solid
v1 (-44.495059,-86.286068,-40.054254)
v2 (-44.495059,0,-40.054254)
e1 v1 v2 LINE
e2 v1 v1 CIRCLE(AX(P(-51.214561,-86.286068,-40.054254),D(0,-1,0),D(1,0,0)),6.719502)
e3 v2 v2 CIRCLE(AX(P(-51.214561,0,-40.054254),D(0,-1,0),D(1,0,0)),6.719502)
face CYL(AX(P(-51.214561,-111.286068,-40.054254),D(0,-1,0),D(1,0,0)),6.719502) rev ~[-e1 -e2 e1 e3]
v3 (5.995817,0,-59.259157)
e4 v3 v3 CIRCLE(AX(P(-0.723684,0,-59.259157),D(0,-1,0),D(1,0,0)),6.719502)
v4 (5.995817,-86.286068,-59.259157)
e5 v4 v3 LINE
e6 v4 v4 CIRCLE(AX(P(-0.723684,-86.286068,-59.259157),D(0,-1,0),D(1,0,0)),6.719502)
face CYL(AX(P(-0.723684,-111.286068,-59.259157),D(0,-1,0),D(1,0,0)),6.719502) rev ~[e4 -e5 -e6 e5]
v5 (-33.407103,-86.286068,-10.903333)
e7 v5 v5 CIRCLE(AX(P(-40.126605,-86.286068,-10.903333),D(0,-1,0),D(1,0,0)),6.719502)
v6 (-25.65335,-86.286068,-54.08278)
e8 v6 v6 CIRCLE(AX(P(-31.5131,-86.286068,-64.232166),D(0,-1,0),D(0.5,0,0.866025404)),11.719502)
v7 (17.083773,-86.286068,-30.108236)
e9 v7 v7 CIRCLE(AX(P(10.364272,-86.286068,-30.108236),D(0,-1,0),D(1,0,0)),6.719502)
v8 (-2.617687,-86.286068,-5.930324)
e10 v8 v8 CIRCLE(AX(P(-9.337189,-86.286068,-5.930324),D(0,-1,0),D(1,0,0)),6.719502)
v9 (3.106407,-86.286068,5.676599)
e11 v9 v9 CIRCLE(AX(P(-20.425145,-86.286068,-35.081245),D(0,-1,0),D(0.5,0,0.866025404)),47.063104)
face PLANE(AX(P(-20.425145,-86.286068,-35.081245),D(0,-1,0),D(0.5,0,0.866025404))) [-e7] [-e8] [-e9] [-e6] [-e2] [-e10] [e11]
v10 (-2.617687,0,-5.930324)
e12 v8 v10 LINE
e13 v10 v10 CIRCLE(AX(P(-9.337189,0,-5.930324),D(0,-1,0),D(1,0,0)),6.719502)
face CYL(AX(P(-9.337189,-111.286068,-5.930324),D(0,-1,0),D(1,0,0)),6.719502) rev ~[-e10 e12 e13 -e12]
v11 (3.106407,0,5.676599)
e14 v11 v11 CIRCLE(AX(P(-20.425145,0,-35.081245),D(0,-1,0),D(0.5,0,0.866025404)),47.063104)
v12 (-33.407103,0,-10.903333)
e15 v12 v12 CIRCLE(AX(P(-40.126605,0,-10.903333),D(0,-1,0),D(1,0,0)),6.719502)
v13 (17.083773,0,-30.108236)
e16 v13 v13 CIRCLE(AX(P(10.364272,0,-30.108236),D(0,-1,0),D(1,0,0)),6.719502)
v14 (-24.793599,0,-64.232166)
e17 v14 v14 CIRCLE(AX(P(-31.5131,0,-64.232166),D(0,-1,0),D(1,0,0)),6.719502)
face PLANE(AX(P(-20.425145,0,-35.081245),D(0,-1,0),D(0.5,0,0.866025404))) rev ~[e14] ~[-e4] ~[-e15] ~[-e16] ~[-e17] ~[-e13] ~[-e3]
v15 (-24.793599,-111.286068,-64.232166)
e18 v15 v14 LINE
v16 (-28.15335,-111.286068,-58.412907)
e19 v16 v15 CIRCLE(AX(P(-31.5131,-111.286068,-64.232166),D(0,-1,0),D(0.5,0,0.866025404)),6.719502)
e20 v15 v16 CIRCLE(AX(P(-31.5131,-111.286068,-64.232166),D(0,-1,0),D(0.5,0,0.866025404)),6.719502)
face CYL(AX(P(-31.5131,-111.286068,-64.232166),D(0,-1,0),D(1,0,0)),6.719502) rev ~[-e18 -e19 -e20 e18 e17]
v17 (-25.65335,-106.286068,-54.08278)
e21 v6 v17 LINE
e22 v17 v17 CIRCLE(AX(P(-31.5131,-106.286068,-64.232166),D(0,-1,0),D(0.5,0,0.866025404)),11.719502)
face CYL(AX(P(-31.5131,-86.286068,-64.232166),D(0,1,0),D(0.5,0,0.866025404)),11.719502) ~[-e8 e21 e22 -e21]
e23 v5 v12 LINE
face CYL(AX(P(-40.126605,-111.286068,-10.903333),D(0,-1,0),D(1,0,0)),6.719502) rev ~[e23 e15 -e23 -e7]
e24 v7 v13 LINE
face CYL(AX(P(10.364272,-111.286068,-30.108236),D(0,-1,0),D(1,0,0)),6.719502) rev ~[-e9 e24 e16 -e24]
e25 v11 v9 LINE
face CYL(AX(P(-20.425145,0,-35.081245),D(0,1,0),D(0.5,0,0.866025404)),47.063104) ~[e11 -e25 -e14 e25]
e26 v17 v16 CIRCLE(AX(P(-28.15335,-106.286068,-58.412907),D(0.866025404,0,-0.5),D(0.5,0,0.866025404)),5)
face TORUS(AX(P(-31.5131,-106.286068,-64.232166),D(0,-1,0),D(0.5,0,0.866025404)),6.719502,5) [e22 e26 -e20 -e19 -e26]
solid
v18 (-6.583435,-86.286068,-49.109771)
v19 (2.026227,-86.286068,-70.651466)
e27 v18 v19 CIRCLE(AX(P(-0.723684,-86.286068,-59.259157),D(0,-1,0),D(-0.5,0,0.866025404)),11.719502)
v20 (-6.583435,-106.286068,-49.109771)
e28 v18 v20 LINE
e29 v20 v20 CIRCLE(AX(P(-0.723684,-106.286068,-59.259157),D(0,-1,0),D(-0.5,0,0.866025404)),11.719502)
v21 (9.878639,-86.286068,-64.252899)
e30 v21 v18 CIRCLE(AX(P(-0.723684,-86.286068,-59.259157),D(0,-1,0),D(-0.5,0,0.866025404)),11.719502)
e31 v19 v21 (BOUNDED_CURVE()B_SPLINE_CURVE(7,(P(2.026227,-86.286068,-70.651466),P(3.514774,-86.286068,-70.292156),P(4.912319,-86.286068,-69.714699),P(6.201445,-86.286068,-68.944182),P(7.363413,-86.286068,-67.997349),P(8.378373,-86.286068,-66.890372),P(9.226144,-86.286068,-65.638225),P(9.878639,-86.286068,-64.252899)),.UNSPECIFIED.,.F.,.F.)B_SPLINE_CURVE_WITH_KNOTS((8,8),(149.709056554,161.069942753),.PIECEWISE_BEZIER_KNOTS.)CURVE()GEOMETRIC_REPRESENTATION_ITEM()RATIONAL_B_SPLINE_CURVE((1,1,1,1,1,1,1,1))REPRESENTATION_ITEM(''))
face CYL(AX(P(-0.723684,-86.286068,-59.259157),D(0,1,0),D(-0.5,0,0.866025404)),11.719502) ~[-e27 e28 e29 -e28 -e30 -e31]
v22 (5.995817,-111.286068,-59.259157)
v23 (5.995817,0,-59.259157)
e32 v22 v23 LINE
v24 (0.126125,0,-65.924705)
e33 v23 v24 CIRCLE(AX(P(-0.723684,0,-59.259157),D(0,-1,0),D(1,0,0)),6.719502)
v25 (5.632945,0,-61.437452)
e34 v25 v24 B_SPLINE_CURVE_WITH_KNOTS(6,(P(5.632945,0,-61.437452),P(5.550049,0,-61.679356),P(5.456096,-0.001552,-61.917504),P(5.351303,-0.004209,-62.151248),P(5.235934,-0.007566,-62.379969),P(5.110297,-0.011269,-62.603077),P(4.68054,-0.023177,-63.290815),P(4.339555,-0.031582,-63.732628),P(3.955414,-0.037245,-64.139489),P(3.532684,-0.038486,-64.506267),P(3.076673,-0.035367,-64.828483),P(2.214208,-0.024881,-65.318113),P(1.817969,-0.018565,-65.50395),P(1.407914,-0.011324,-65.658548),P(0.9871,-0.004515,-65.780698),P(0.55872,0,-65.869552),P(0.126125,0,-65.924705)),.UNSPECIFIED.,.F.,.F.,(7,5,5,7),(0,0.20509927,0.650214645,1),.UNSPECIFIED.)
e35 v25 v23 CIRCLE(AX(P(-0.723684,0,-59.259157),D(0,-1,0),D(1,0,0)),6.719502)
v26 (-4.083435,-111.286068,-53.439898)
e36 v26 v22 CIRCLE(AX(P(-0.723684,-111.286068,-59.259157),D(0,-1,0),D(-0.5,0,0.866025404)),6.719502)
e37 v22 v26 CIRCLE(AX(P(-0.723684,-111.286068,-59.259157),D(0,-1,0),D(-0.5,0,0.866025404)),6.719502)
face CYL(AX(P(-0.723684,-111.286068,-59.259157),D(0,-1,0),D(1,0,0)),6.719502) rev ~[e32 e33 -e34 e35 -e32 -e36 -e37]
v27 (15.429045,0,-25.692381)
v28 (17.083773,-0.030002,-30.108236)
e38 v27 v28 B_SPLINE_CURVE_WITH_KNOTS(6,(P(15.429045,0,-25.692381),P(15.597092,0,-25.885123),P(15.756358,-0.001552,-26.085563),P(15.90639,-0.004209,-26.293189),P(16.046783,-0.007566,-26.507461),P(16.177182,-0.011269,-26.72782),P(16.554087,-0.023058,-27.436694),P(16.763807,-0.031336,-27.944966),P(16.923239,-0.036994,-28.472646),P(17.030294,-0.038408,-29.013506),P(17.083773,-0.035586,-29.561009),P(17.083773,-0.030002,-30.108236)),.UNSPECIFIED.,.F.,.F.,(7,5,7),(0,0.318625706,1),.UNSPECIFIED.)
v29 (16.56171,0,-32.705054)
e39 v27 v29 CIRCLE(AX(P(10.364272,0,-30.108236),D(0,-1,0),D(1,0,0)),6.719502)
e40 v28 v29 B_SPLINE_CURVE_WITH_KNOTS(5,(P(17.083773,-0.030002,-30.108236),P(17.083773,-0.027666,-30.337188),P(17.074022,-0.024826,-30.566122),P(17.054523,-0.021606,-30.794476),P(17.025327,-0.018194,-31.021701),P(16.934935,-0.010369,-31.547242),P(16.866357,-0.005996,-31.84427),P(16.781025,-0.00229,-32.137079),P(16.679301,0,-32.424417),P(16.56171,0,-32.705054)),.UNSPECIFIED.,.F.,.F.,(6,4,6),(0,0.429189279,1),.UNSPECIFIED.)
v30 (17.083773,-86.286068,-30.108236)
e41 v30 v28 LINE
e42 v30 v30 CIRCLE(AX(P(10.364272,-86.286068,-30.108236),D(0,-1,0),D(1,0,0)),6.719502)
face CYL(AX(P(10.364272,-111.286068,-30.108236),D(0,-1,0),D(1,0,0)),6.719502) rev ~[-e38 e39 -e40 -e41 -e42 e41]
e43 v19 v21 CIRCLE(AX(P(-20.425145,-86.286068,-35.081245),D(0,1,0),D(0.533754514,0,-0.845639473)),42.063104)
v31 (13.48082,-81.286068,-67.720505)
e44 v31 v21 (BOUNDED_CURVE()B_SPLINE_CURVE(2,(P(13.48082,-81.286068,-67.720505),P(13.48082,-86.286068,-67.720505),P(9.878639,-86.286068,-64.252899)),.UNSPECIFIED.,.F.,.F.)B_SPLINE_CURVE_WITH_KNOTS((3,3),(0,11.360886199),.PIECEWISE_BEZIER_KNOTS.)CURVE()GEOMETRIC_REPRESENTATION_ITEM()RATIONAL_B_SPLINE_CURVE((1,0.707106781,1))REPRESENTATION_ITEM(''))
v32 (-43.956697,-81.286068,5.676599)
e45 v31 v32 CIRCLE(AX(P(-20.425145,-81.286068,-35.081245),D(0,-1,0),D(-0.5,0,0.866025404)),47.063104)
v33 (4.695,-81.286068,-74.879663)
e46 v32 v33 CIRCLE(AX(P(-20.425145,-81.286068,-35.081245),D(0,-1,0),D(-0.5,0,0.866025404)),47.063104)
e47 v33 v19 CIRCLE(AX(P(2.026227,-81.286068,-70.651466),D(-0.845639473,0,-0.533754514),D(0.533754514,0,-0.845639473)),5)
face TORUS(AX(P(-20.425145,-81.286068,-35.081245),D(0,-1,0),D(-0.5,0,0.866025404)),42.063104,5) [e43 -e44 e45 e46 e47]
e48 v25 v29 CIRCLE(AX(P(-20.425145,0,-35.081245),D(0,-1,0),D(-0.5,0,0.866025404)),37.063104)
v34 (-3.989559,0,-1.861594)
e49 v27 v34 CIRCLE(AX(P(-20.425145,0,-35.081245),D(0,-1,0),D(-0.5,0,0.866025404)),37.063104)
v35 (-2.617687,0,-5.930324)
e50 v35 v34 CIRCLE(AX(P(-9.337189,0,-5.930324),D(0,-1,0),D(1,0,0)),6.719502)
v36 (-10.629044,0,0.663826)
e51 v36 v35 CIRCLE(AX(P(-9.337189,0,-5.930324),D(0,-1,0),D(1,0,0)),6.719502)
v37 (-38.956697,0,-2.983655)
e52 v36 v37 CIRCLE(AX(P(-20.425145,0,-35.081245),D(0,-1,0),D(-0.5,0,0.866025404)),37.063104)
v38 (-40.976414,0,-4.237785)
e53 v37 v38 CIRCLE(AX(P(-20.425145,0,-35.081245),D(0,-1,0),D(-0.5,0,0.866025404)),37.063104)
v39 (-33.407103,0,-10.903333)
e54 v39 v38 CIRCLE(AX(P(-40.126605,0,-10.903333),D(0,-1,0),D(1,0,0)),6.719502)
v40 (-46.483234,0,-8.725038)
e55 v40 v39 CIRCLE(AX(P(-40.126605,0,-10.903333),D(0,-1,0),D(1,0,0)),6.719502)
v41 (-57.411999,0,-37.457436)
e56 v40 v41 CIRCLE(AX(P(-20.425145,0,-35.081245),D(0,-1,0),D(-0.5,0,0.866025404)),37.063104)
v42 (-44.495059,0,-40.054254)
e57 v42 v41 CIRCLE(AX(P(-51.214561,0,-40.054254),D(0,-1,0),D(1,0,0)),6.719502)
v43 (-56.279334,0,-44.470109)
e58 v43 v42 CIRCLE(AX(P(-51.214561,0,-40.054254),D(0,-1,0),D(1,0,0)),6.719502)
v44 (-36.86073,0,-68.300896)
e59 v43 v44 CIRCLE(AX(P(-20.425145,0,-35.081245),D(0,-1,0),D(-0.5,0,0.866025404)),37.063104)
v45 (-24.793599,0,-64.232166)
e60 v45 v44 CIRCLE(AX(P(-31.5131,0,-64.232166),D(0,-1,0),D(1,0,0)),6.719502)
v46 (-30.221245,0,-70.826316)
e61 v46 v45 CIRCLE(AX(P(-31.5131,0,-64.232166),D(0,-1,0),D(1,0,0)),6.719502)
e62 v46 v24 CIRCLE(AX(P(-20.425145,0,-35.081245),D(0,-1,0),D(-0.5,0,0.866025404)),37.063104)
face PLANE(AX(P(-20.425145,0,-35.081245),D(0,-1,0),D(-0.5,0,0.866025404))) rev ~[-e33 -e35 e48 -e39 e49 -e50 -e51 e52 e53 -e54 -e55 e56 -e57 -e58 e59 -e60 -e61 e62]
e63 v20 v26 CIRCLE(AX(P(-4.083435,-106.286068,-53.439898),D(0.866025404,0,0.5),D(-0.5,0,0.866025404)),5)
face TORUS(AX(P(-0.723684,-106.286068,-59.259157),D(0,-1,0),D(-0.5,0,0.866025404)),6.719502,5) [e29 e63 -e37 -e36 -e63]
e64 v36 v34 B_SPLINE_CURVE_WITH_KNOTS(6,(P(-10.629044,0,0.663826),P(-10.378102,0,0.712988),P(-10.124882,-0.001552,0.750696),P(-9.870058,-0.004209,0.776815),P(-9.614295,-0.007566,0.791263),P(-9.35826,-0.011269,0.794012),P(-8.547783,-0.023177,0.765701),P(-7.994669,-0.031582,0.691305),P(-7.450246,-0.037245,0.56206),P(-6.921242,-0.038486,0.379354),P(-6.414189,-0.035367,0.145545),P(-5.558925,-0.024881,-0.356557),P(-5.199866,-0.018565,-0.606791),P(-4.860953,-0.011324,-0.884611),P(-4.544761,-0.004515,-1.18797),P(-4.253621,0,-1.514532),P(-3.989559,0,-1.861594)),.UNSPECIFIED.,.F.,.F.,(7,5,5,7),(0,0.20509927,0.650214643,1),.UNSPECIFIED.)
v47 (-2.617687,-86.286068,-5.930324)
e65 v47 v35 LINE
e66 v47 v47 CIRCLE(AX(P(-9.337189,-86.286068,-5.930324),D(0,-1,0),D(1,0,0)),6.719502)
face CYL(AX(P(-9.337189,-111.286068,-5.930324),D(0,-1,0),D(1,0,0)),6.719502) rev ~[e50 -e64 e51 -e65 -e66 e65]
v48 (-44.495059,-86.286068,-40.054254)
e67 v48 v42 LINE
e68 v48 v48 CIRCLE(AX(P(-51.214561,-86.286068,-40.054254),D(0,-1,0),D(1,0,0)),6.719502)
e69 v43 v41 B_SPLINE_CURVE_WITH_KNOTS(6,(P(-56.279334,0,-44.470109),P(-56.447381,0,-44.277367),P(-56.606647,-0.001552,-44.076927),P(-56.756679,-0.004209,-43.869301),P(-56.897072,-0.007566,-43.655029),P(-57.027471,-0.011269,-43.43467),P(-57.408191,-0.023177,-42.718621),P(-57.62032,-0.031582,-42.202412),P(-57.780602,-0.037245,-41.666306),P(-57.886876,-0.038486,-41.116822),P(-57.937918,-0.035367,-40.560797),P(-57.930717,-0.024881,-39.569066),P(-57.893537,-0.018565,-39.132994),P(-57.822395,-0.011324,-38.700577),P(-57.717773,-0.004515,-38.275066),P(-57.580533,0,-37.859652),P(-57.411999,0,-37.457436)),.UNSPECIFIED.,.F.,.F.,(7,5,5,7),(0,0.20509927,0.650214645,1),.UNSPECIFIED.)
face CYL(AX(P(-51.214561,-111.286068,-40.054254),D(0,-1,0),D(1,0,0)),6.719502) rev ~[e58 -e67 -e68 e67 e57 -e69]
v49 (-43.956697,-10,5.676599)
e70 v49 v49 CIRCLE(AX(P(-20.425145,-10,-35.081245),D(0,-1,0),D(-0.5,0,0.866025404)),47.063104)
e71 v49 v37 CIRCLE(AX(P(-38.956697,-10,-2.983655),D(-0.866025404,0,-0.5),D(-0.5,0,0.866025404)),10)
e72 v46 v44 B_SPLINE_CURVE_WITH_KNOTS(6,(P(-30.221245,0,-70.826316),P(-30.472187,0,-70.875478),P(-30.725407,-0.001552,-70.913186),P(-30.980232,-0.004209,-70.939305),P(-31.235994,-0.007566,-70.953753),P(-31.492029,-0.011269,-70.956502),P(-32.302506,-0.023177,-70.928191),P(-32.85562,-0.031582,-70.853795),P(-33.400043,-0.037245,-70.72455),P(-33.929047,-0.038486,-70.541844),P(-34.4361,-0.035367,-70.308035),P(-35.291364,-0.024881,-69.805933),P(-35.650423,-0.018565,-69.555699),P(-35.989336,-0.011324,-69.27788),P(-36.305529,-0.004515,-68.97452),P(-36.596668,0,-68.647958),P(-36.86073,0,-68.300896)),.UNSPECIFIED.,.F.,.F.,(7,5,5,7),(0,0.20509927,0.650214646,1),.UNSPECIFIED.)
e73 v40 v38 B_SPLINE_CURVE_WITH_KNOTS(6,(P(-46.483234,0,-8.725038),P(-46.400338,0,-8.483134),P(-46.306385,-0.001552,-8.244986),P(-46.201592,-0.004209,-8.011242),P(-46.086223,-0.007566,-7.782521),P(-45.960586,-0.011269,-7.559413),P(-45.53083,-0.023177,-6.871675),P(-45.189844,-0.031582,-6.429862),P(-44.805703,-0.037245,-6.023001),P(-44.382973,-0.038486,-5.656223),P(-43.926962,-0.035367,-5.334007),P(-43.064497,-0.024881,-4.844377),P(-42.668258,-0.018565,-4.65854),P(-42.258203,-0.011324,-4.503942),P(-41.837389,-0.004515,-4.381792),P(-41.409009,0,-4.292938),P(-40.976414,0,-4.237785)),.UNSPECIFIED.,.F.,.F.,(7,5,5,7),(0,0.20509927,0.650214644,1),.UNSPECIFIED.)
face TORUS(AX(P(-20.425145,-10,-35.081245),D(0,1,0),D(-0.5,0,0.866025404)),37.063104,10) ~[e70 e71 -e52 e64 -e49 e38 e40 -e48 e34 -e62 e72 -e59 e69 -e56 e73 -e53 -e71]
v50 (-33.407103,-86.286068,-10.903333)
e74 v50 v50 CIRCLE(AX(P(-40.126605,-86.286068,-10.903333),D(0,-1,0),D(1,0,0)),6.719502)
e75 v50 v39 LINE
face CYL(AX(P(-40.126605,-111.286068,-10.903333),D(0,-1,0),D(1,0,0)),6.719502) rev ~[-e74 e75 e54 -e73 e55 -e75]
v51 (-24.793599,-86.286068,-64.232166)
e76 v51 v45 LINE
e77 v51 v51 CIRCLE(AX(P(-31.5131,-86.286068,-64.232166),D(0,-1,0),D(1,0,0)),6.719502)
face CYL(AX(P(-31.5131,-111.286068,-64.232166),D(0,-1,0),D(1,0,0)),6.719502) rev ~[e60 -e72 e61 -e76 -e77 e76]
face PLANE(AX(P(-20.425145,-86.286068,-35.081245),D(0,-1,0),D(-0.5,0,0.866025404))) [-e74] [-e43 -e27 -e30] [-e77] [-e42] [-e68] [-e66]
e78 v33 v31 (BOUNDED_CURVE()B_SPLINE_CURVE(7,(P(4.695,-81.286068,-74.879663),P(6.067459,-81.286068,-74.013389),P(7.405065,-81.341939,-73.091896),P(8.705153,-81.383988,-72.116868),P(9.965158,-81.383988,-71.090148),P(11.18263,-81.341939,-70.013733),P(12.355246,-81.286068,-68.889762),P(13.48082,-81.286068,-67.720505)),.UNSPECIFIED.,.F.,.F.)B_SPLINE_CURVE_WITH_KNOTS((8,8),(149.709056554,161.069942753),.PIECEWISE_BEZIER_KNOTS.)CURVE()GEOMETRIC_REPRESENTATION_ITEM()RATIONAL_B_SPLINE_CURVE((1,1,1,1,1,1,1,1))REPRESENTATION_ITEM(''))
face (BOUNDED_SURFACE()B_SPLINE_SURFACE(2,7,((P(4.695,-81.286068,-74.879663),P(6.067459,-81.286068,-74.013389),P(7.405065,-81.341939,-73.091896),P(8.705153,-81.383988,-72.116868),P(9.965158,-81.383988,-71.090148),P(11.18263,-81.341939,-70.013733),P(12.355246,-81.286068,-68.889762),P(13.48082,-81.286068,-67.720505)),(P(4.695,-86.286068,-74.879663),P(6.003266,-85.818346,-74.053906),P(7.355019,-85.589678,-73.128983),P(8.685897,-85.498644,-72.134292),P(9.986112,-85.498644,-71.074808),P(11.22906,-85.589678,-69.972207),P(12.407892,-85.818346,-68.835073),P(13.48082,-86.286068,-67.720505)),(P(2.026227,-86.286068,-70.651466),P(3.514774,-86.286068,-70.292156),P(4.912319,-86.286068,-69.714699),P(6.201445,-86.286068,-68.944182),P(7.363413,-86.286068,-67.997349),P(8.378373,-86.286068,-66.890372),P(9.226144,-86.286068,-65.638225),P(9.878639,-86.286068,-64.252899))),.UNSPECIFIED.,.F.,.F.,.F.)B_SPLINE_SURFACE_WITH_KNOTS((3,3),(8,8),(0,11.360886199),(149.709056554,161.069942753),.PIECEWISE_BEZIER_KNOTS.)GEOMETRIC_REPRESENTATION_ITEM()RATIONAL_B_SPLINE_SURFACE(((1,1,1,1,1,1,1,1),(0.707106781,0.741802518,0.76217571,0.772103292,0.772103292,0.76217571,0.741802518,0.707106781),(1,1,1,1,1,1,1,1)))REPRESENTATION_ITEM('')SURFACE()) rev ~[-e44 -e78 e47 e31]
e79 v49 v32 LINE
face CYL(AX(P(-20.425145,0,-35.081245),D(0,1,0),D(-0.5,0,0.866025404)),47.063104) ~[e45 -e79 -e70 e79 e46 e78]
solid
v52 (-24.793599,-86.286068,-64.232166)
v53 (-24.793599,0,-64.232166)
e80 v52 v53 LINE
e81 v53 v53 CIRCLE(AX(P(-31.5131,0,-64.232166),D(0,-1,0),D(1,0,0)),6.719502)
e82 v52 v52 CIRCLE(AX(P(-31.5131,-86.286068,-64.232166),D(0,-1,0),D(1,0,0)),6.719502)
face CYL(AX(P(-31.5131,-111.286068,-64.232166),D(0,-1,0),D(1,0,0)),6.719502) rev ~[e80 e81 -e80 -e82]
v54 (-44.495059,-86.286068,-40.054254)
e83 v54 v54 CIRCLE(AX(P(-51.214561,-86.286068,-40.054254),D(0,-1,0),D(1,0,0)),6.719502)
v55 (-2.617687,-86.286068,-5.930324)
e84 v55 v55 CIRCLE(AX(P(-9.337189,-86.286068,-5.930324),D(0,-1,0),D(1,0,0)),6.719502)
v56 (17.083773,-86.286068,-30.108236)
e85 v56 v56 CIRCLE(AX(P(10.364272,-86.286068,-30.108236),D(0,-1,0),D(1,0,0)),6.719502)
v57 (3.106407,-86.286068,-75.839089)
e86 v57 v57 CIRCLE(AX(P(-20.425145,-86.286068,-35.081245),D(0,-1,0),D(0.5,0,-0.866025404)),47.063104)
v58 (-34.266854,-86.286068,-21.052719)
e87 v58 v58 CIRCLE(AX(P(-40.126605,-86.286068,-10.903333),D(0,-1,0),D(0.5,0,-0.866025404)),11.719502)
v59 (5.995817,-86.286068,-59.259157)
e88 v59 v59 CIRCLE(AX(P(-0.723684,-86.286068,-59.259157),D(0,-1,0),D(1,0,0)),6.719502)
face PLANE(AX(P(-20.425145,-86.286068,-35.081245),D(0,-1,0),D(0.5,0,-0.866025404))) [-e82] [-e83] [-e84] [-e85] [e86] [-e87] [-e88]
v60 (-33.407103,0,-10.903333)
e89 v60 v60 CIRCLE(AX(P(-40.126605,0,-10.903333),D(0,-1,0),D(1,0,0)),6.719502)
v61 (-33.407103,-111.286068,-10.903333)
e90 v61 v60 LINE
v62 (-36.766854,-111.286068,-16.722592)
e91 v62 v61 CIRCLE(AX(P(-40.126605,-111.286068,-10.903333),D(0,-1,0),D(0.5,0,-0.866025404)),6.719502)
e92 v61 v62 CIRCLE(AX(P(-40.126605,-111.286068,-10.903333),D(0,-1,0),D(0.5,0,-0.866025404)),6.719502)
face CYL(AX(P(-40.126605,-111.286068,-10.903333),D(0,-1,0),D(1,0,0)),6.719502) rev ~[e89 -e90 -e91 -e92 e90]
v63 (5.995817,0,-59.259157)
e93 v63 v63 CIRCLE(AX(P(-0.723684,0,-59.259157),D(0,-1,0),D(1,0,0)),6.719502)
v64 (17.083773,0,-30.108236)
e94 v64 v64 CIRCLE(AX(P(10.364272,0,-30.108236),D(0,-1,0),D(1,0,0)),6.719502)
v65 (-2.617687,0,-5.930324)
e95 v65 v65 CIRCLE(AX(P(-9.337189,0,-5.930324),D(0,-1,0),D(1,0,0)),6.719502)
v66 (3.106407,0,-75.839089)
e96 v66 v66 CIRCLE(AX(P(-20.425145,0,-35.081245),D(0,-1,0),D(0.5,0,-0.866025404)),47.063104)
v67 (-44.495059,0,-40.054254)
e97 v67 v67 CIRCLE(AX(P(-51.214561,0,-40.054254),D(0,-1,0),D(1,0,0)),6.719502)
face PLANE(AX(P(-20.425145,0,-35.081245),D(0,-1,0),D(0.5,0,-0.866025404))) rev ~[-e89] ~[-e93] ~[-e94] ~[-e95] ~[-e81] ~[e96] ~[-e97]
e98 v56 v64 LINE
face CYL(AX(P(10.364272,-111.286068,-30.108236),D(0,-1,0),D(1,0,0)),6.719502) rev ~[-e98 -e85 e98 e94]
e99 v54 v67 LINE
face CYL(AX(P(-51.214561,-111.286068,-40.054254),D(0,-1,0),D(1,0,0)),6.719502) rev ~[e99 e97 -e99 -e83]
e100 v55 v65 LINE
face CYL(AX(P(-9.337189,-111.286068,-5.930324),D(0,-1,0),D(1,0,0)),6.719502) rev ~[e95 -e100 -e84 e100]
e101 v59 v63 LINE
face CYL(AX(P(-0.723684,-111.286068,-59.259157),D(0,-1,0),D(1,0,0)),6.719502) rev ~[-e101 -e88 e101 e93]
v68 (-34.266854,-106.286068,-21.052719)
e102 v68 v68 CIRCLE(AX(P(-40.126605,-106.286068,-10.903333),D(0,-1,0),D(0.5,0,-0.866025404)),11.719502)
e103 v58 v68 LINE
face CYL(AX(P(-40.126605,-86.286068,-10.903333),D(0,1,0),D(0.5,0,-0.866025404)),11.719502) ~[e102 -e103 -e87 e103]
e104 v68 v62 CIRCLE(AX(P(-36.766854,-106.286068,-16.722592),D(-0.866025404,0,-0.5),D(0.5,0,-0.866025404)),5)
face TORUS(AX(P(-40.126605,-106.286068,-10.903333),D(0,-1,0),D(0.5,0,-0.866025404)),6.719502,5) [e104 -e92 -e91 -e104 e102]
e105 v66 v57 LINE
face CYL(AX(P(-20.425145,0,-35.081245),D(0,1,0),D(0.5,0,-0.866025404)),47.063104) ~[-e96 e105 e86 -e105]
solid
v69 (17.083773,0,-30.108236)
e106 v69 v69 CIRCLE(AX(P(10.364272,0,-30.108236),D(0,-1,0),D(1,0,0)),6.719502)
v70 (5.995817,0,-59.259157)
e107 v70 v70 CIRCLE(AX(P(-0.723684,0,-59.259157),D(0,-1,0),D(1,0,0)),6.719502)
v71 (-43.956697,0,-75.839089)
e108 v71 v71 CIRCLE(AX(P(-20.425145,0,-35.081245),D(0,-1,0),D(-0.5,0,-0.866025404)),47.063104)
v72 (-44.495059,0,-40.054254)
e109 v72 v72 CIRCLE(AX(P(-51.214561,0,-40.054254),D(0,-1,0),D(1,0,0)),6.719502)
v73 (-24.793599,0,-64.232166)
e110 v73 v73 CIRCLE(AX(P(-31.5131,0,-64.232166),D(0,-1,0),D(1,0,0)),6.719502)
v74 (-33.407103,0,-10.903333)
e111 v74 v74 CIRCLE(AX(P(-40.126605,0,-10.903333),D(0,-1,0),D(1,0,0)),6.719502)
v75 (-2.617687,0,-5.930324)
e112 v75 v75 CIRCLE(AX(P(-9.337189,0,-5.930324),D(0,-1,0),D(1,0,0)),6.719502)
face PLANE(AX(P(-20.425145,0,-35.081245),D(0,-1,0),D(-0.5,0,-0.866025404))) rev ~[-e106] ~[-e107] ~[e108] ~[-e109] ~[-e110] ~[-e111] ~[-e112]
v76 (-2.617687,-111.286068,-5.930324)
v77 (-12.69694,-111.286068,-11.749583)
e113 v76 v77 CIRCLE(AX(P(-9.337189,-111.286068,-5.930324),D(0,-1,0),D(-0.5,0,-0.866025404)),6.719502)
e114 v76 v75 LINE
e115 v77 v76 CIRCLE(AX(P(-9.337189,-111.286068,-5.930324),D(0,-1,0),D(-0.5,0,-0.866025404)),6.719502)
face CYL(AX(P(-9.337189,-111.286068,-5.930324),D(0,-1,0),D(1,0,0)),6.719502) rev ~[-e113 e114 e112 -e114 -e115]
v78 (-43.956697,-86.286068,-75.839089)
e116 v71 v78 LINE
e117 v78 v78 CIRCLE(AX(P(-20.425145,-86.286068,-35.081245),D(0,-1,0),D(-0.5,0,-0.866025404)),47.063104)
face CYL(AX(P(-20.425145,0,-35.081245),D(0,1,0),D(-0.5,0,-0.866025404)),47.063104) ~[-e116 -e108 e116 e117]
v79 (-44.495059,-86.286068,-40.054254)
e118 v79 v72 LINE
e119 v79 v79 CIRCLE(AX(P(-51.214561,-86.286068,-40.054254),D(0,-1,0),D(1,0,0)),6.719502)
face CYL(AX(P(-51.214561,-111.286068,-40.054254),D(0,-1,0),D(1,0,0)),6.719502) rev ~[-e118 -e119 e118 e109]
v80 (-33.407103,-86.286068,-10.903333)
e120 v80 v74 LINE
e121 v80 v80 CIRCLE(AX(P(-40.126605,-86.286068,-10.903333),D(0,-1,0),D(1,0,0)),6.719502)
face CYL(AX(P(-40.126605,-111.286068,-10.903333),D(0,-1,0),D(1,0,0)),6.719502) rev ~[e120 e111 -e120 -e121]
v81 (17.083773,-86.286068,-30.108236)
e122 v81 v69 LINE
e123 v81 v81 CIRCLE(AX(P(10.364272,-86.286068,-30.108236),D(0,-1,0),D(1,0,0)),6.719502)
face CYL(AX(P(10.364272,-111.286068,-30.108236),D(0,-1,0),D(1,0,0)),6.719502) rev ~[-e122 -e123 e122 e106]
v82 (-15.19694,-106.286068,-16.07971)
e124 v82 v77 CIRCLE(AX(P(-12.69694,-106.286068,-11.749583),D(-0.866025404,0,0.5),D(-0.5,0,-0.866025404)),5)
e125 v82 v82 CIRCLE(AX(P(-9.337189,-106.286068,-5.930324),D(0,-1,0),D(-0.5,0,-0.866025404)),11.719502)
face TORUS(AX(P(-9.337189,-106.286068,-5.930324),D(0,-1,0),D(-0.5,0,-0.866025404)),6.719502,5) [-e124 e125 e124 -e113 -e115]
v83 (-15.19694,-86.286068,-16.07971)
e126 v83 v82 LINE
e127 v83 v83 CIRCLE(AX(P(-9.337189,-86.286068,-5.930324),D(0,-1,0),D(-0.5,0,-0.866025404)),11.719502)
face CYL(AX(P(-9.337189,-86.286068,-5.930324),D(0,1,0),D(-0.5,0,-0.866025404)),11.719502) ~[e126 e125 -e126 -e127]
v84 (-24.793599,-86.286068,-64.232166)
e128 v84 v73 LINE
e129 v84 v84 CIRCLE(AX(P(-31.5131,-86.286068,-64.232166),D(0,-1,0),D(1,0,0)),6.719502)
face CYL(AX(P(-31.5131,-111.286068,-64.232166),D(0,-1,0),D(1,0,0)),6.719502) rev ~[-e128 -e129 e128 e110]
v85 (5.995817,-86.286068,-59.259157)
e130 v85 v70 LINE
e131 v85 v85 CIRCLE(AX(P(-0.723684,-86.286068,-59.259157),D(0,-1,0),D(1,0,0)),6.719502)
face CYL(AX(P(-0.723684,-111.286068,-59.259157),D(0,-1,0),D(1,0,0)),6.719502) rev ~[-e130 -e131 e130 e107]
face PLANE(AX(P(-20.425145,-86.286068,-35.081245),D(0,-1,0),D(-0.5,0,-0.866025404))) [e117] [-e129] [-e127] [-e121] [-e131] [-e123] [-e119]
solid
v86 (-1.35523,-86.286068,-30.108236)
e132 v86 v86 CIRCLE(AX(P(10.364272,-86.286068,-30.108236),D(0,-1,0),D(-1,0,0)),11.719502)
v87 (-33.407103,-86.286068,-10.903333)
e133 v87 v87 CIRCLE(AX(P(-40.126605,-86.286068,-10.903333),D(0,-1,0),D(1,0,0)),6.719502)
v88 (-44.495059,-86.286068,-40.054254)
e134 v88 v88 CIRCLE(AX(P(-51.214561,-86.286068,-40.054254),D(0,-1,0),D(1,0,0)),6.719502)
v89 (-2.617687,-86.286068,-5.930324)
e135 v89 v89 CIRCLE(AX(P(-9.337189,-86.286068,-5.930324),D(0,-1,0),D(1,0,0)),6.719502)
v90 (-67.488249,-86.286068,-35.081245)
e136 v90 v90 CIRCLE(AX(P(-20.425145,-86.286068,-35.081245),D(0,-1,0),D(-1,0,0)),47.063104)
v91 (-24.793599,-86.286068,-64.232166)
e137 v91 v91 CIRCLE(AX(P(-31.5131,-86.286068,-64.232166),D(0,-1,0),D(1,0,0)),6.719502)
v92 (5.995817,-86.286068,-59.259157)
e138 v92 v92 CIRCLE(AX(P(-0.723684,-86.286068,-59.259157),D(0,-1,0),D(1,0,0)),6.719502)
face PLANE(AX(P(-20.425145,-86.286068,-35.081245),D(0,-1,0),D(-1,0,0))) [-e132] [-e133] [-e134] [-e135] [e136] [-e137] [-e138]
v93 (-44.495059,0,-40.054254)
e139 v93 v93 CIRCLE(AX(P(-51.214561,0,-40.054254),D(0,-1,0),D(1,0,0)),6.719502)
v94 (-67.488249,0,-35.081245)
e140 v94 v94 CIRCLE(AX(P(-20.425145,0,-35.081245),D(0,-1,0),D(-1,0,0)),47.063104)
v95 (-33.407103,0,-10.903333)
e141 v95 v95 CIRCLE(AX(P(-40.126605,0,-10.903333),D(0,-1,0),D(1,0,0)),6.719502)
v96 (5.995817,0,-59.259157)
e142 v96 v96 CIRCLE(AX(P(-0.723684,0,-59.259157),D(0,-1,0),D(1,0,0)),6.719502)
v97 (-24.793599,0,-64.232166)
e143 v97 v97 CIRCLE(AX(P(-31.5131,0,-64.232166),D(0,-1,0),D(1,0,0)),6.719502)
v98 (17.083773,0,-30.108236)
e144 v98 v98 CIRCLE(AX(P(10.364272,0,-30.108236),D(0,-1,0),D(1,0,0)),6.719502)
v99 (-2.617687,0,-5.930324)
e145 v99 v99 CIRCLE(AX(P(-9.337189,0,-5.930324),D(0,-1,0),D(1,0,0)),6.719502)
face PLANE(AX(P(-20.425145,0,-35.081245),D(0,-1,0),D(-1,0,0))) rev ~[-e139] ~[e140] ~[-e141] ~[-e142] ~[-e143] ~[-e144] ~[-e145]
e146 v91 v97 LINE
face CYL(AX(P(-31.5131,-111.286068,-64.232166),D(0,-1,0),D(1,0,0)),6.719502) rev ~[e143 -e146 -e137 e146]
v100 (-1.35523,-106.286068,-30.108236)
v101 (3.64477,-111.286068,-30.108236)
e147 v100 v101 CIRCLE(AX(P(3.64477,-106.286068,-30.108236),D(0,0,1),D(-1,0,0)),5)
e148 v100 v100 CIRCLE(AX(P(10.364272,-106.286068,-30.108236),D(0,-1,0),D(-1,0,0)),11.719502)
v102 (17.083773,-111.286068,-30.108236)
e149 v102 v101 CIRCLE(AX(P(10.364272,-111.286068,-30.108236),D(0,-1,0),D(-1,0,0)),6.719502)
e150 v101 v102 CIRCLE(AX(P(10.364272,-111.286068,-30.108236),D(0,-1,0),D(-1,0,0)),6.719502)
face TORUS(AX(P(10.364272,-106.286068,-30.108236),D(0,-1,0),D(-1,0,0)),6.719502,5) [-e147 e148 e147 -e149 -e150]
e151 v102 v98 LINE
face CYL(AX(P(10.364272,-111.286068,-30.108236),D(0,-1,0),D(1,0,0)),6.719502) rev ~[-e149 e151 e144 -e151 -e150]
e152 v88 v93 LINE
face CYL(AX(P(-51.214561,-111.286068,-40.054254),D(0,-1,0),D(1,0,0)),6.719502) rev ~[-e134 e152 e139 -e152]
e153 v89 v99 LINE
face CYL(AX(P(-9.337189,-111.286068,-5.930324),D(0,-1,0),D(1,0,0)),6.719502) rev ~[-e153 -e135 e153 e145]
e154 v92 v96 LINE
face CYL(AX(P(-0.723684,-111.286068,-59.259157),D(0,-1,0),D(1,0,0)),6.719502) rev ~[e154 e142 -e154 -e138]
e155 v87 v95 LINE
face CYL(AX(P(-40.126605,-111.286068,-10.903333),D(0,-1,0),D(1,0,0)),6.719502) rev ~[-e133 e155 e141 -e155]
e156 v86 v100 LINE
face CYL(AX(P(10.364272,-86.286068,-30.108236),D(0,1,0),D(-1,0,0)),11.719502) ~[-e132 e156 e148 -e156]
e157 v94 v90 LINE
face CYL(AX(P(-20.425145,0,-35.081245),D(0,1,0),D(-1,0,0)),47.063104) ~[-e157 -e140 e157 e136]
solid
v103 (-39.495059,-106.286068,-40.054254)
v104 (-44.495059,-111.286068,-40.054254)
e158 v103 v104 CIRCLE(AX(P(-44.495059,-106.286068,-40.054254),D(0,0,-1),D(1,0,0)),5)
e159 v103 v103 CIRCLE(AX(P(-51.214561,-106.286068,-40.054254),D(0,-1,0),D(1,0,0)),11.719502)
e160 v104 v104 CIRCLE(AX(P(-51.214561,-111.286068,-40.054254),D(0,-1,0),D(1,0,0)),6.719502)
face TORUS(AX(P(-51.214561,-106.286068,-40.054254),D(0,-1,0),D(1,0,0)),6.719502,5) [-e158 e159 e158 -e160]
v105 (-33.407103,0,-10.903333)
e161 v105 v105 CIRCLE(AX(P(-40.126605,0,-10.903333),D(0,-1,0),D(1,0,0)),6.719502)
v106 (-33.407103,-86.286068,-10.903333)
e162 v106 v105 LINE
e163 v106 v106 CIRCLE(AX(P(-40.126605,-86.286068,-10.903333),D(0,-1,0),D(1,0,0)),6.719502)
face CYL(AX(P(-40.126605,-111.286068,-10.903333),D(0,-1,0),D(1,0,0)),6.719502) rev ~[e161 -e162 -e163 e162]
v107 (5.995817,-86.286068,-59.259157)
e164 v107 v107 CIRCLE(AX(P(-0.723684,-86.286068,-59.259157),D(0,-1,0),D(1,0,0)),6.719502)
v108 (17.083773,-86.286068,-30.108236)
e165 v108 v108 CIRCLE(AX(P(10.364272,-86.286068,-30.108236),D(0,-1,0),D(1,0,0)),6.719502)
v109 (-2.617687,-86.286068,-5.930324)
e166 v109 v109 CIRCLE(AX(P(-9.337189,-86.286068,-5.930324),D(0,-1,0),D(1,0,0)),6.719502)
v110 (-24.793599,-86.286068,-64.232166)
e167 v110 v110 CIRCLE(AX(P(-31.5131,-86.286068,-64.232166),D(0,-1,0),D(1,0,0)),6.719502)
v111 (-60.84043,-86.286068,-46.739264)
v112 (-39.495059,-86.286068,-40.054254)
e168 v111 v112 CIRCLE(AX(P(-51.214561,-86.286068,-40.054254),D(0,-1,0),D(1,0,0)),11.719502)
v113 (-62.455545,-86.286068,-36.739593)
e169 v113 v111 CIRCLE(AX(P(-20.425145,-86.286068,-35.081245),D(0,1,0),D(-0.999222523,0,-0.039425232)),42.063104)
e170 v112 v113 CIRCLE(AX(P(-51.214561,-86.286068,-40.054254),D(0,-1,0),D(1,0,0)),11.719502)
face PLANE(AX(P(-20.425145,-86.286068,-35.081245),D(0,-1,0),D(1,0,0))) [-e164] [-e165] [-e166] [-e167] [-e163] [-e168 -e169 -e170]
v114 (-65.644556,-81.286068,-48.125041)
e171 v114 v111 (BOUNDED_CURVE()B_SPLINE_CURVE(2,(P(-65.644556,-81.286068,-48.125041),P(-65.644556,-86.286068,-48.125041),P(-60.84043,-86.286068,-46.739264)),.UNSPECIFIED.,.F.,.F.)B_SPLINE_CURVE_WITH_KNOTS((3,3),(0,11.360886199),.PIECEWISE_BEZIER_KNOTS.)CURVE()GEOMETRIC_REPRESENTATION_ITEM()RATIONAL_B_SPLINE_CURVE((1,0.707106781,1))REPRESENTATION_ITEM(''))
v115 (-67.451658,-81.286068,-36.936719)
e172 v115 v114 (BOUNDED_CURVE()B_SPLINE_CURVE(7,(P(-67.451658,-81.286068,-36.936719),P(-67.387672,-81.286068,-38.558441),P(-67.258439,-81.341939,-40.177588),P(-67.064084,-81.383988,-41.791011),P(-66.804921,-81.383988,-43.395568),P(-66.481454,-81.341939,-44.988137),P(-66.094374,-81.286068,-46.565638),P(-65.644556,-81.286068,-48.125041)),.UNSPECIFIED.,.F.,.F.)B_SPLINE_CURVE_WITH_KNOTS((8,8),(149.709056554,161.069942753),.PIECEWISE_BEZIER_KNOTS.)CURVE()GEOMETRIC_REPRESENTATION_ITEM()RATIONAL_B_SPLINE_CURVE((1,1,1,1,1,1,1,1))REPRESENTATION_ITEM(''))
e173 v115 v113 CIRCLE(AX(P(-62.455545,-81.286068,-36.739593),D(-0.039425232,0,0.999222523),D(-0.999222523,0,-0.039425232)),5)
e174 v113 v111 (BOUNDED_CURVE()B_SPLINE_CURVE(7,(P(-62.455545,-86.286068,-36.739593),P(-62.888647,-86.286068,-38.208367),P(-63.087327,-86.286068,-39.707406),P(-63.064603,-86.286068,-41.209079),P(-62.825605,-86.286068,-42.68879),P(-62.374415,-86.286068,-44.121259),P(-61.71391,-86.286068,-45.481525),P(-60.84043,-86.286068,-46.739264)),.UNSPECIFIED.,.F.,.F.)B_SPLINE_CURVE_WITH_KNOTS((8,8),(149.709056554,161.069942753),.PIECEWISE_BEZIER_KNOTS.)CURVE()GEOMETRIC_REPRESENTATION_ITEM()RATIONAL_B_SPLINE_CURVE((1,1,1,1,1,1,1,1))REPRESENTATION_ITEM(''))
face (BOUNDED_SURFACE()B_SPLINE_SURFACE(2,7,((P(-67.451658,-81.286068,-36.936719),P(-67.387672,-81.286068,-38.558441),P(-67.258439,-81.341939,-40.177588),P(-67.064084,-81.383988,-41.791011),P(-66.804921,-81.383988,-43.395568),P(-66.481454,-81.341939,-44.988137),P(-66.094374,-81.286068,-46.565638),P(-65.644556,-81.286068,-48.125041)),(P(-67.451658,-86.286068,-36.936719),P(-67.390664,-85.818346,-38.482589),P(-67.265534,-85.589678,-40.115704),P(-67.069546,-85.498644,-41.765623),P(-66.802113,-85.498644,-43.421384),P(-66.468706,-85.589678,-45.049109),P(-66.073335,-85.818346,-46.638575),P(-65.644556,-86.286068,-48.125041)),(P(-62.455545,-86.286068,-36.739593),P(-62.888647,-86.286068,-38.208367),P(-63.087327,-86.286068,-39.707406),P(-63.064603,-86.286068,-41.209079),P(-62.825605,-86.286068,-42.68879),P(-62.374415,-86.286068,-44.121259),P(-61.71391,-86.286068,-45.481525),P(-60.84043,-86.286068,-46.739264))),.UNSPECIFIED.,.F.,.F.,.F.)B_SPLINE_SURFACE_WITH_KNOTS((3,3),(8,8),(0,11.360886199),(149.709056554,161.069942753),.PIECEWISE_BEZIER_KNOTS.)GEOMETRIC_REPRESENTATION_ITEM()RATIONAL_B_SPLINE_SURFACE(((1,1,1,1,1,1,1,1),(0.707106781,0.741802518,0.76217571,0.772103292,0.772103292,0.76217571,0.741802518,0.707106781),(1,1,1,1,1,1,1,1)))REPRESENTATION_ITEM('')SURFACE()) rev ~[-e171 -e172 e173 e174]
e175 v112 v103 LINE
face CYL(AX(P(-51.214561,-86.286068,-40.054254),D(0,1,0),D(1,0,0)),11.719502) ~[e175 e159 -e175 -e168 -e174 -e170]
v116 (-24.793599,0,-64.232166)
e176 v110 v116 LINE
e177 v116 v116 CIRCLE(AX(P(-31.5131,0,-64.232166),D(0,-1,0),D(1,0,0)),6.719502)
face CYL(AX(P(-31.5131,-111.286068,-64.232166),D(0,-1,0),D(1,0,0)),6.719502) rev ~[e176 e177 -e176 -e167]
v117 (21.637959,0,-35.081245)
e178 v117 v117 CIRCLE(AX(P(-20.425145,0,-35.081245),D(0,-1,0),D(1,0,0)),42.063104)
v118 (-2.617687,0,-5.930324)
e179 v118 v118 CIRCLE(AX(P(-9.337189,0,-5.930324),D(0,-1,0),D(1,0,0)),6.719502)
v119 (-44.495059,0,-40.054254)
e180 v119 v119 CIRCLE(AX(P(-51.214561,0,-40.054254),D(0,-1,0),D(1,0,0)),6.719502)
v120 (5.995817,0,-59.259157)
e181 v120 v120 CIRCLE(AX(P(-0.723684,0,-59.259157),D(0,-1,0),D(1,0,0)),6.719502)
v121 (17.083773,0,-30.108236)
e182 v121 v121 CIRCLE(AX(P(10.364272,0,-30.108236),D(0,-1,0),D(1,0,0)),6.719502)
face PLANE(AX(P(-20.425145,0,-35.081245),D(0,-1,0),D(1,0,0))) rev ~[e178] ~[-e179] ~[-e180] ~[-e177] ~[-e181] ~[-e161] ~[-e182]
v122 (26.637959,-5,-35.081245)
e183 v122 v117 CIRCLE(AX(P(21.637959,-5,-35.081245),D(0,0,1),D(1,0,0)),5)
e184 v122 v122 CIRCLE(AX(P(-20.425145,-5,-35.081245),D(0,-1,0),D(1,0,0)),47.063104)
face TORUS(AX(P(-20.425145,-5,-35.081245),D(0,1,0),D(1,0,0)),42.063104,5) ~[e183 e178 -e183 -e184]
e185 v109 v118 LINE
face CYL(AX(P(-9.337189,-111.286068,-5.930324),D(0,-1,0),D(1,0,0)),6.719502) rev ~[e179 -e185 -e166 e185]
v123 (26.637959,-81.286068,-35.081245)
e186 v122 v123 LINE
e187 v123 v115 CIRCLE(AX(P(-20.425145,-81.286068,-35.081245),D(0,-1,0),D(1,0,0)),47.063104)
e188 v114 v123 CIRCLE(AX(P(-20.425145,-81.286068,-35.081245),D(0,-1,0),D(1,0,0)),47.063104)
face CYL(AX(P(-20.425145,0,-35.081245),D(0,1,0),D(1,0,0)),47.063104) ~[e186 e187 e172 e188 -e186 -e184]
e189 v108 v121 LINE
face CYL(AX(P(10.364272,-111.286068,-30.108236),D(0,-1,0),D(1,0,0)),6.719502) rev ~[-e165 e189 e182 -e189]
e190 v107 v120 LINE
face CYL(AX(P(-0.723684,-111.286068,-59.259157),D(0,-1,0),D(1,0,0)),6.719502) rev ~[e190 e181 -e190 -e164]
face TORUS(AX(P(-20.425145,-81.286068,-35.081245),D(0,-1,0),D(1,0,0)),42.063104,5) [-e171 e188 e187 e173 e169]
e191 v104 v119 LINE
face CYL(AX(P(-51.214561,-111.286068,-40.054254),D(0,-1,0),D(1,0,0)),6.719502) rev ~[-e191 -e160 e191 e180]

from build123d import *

# Parameters (mm, degrees)
F0_R      = 47.0631039924
F1_DEPTH  = 86.2860679626
F2_R      = 11.7195015642
F3_DEPTH  = 25
F4_COUNT  = 6
F5_R      = 10
F6_R      = 5
F6_2_R    = 5
F6_3_R    = 5
F6_4_R    = 5
F6_5_R    = 5
F6_6_R    = 5
F3_FACE_R = 6.7195015642
F4_FACE_R = 6.7195015642
F7_DEPTH  = 111.2870679626


with BuildPart() as f1:
    # F0 (on Front) → F1 (new body)
    with BuildSketch(Plane.XZ):
        with Locations((-20.425144583, -35.0812450051)):
            Circle(F0_R)
    extrude(amount=F1_DEPTH)

    # F2 (on face) → F3 (join)
    with BuildSketch(Plane.XZ.offset(86.2860679626)):
        with Locations((-51.2145608664, -40.0542542338)):
            Circle(F2_R)
    extrude(amount=F3_DEPTH)


with BuildPart() as f4_1:
    # F4: instance of F1
    add(f1.part.rotate(Axis((-20.425144583, 0, -35.0812450051), (0, 1, 0)), 1 * 360 / F4_COUNT))

    # F6#3
    f6_3_edges = [f4_1.edges().sort_by_distance(p)[0] for p in [
        (-45.986356, -111.286068, -0.753947),
    ]]
    fillet(f6_3_edges, radius=F6_3_R)


with BuildPart() as f4_2:
    # F4: instance of F1
    add(f1.part.rotate(Axis((-20.425144583, 0, -35.0812450051), (0, 1, 0)), 2 * 360 / F4_COUNT))

    # F6#4
    f6_4_edges = [f4_2.edges().sort_by_distance(p)[0] for p in [
        (-3.477438, -111.286068, 4.219062),
    ]]
    fillet(f6_4_edges, radius=F6_4_R)


with BuildPart() as f4_3:
    # F4: instance of F1
    add(f1.part.rotate(Axis((-20.425144583, 0, -35.0812450051), (0, 1, 0)), 3 * 360 / F4_COUNT))

    # F6#2
    f6_2_edges = [f4_3.edges().sort_by_distance(p)[0] for p in [
        (22.083773, -111.286068, -30.108236),
    ]]
    fillet(f6_2_edges, radius=F6_2_R)


with BuildPart() as f4_4:
    # F4: instance of F1
    add(f1.part.rotate(Axis((-20.425144583, 0, -35.0812450051), (0, 1, 0)), 4 * 360 / F4_COUNT))

    # F5
    f5_edges = [f4_4.edges().sort_by_distance(p)[0] for p in [
        (3.106407, 0, -75.839089),
    ]]
    fillet(f5_edges, radius=F5_R)

    # F6
    f6_edges = [f4_4.edges().sort_by_distance(p)[0] for p in [
        (5.136067, -111.286068, -69.408543),
        (3.106407, -86.286068, -75.839089),
        (-1.893593, 0, -67.178835),
    ]]
    fillet(f6_edges, radius=F6_R)


with BuildPart() as f4_5:
    # F4: instance of F1
    add(f1.part.rotate(Axis((-20.425144583, 0, -35.0812450051), (0, 1, 0)), 5 * 360 / F4_COUNT))

    # F6#6
    f6_6_edges = [f4_5.edges().sort_by_distance(p)[0] for p in [
        (-37.372851, -111.286068, -74.381552),
    ]]
    fillet(f6_6_edges, radius=F6_6_R)


with BuildPart() as f1_1:
    add(f1.part)

    # F6#5
    f6_5_edges = [f1_1.edges().sort_by_distance(p)[0] for p in [
        (-62.934062, -111.286068, -40.054254),
        (26.637959, -43.143034, -35.081245),
        (-67.488249, 0, -35.081245),
        (-67.488249, -86.286068, -35.081245),
    ]]
    fillet(f6_5_edges, radius=F6_5_R)


with BuildPart() as f7_tool:
    # F3_face (on face) + F4_face (on face) → F7 (new body, through all)
    with BuildSketch(Plane(origin=(-51.2145608664, -111.2860679626, -40.0542542338), x_dir=(1, 0, 0), z_dir=(0, -1, 0))):
        Circle(F3_FACE_R)
    with BuildSketch(Plane(origin=(-31.5131003994, -111.2860679626, -64.2321662886), x_dir=(1, 0, 0), z_dir=(0, -1, 0))):
        Circle(F4_FACE_R)
        with Locations((30.7894162834, 4.9730092287)):
            Circle(F4_FACE_R)
        with Locations((41.8773720997, 34.1239305122)):
            Circle(F4_FACE_R)
        with Locations((22.1759116327, 58.3018425669)):
            Circle(F4_FACE_R)
        with Locations((-8.6135046506, 53.3288333382)):
            Circle(F4_FACE_R)
    extrude(amount=-F7_DEPTH)


with BuildPart() as f1_2:
    add(f1_1.part)

    # F7: cut by f7_tool
    add(f7_tool.part, mode=Mode.SUBTRACT)


with BuildPart() as f4_1_1:
    add(f4_1.part)

    # F7: cut by f7_tool
    add(f7_tool.part, mode=Mode.SUBTRACT)


with BuildPart() as f4_2_1:
    add(f4_2.part)

    # F7: cut by f7_tool
    add(f7_tool.part, mode=Mode.SUBTRACT)


with BuildPart() as f4_3_1:
    add(f4_3.part)

    # F7: cut by f7_tool
    add(f7_tool.part, mode=Mode.SUBTRACT)


with BuildPart() as f4_4_1:
    add(f4_4.part)

    # F7: cut by f7_tool
    add(f7_tool.part, mode=Mode.SUBTRACT)


with BuildPart() as f4_5_1:
    add(f4_5.part)

    # F7: cut by f7_tool
    add(f7_tool.part, mode=Mode.SUBTRACT)


solid = Compound([f1_2.part, f4_1_1.part, f4_2_1.part, f4_3_1.part, f4_4_1.part, f4_5_1.part])
